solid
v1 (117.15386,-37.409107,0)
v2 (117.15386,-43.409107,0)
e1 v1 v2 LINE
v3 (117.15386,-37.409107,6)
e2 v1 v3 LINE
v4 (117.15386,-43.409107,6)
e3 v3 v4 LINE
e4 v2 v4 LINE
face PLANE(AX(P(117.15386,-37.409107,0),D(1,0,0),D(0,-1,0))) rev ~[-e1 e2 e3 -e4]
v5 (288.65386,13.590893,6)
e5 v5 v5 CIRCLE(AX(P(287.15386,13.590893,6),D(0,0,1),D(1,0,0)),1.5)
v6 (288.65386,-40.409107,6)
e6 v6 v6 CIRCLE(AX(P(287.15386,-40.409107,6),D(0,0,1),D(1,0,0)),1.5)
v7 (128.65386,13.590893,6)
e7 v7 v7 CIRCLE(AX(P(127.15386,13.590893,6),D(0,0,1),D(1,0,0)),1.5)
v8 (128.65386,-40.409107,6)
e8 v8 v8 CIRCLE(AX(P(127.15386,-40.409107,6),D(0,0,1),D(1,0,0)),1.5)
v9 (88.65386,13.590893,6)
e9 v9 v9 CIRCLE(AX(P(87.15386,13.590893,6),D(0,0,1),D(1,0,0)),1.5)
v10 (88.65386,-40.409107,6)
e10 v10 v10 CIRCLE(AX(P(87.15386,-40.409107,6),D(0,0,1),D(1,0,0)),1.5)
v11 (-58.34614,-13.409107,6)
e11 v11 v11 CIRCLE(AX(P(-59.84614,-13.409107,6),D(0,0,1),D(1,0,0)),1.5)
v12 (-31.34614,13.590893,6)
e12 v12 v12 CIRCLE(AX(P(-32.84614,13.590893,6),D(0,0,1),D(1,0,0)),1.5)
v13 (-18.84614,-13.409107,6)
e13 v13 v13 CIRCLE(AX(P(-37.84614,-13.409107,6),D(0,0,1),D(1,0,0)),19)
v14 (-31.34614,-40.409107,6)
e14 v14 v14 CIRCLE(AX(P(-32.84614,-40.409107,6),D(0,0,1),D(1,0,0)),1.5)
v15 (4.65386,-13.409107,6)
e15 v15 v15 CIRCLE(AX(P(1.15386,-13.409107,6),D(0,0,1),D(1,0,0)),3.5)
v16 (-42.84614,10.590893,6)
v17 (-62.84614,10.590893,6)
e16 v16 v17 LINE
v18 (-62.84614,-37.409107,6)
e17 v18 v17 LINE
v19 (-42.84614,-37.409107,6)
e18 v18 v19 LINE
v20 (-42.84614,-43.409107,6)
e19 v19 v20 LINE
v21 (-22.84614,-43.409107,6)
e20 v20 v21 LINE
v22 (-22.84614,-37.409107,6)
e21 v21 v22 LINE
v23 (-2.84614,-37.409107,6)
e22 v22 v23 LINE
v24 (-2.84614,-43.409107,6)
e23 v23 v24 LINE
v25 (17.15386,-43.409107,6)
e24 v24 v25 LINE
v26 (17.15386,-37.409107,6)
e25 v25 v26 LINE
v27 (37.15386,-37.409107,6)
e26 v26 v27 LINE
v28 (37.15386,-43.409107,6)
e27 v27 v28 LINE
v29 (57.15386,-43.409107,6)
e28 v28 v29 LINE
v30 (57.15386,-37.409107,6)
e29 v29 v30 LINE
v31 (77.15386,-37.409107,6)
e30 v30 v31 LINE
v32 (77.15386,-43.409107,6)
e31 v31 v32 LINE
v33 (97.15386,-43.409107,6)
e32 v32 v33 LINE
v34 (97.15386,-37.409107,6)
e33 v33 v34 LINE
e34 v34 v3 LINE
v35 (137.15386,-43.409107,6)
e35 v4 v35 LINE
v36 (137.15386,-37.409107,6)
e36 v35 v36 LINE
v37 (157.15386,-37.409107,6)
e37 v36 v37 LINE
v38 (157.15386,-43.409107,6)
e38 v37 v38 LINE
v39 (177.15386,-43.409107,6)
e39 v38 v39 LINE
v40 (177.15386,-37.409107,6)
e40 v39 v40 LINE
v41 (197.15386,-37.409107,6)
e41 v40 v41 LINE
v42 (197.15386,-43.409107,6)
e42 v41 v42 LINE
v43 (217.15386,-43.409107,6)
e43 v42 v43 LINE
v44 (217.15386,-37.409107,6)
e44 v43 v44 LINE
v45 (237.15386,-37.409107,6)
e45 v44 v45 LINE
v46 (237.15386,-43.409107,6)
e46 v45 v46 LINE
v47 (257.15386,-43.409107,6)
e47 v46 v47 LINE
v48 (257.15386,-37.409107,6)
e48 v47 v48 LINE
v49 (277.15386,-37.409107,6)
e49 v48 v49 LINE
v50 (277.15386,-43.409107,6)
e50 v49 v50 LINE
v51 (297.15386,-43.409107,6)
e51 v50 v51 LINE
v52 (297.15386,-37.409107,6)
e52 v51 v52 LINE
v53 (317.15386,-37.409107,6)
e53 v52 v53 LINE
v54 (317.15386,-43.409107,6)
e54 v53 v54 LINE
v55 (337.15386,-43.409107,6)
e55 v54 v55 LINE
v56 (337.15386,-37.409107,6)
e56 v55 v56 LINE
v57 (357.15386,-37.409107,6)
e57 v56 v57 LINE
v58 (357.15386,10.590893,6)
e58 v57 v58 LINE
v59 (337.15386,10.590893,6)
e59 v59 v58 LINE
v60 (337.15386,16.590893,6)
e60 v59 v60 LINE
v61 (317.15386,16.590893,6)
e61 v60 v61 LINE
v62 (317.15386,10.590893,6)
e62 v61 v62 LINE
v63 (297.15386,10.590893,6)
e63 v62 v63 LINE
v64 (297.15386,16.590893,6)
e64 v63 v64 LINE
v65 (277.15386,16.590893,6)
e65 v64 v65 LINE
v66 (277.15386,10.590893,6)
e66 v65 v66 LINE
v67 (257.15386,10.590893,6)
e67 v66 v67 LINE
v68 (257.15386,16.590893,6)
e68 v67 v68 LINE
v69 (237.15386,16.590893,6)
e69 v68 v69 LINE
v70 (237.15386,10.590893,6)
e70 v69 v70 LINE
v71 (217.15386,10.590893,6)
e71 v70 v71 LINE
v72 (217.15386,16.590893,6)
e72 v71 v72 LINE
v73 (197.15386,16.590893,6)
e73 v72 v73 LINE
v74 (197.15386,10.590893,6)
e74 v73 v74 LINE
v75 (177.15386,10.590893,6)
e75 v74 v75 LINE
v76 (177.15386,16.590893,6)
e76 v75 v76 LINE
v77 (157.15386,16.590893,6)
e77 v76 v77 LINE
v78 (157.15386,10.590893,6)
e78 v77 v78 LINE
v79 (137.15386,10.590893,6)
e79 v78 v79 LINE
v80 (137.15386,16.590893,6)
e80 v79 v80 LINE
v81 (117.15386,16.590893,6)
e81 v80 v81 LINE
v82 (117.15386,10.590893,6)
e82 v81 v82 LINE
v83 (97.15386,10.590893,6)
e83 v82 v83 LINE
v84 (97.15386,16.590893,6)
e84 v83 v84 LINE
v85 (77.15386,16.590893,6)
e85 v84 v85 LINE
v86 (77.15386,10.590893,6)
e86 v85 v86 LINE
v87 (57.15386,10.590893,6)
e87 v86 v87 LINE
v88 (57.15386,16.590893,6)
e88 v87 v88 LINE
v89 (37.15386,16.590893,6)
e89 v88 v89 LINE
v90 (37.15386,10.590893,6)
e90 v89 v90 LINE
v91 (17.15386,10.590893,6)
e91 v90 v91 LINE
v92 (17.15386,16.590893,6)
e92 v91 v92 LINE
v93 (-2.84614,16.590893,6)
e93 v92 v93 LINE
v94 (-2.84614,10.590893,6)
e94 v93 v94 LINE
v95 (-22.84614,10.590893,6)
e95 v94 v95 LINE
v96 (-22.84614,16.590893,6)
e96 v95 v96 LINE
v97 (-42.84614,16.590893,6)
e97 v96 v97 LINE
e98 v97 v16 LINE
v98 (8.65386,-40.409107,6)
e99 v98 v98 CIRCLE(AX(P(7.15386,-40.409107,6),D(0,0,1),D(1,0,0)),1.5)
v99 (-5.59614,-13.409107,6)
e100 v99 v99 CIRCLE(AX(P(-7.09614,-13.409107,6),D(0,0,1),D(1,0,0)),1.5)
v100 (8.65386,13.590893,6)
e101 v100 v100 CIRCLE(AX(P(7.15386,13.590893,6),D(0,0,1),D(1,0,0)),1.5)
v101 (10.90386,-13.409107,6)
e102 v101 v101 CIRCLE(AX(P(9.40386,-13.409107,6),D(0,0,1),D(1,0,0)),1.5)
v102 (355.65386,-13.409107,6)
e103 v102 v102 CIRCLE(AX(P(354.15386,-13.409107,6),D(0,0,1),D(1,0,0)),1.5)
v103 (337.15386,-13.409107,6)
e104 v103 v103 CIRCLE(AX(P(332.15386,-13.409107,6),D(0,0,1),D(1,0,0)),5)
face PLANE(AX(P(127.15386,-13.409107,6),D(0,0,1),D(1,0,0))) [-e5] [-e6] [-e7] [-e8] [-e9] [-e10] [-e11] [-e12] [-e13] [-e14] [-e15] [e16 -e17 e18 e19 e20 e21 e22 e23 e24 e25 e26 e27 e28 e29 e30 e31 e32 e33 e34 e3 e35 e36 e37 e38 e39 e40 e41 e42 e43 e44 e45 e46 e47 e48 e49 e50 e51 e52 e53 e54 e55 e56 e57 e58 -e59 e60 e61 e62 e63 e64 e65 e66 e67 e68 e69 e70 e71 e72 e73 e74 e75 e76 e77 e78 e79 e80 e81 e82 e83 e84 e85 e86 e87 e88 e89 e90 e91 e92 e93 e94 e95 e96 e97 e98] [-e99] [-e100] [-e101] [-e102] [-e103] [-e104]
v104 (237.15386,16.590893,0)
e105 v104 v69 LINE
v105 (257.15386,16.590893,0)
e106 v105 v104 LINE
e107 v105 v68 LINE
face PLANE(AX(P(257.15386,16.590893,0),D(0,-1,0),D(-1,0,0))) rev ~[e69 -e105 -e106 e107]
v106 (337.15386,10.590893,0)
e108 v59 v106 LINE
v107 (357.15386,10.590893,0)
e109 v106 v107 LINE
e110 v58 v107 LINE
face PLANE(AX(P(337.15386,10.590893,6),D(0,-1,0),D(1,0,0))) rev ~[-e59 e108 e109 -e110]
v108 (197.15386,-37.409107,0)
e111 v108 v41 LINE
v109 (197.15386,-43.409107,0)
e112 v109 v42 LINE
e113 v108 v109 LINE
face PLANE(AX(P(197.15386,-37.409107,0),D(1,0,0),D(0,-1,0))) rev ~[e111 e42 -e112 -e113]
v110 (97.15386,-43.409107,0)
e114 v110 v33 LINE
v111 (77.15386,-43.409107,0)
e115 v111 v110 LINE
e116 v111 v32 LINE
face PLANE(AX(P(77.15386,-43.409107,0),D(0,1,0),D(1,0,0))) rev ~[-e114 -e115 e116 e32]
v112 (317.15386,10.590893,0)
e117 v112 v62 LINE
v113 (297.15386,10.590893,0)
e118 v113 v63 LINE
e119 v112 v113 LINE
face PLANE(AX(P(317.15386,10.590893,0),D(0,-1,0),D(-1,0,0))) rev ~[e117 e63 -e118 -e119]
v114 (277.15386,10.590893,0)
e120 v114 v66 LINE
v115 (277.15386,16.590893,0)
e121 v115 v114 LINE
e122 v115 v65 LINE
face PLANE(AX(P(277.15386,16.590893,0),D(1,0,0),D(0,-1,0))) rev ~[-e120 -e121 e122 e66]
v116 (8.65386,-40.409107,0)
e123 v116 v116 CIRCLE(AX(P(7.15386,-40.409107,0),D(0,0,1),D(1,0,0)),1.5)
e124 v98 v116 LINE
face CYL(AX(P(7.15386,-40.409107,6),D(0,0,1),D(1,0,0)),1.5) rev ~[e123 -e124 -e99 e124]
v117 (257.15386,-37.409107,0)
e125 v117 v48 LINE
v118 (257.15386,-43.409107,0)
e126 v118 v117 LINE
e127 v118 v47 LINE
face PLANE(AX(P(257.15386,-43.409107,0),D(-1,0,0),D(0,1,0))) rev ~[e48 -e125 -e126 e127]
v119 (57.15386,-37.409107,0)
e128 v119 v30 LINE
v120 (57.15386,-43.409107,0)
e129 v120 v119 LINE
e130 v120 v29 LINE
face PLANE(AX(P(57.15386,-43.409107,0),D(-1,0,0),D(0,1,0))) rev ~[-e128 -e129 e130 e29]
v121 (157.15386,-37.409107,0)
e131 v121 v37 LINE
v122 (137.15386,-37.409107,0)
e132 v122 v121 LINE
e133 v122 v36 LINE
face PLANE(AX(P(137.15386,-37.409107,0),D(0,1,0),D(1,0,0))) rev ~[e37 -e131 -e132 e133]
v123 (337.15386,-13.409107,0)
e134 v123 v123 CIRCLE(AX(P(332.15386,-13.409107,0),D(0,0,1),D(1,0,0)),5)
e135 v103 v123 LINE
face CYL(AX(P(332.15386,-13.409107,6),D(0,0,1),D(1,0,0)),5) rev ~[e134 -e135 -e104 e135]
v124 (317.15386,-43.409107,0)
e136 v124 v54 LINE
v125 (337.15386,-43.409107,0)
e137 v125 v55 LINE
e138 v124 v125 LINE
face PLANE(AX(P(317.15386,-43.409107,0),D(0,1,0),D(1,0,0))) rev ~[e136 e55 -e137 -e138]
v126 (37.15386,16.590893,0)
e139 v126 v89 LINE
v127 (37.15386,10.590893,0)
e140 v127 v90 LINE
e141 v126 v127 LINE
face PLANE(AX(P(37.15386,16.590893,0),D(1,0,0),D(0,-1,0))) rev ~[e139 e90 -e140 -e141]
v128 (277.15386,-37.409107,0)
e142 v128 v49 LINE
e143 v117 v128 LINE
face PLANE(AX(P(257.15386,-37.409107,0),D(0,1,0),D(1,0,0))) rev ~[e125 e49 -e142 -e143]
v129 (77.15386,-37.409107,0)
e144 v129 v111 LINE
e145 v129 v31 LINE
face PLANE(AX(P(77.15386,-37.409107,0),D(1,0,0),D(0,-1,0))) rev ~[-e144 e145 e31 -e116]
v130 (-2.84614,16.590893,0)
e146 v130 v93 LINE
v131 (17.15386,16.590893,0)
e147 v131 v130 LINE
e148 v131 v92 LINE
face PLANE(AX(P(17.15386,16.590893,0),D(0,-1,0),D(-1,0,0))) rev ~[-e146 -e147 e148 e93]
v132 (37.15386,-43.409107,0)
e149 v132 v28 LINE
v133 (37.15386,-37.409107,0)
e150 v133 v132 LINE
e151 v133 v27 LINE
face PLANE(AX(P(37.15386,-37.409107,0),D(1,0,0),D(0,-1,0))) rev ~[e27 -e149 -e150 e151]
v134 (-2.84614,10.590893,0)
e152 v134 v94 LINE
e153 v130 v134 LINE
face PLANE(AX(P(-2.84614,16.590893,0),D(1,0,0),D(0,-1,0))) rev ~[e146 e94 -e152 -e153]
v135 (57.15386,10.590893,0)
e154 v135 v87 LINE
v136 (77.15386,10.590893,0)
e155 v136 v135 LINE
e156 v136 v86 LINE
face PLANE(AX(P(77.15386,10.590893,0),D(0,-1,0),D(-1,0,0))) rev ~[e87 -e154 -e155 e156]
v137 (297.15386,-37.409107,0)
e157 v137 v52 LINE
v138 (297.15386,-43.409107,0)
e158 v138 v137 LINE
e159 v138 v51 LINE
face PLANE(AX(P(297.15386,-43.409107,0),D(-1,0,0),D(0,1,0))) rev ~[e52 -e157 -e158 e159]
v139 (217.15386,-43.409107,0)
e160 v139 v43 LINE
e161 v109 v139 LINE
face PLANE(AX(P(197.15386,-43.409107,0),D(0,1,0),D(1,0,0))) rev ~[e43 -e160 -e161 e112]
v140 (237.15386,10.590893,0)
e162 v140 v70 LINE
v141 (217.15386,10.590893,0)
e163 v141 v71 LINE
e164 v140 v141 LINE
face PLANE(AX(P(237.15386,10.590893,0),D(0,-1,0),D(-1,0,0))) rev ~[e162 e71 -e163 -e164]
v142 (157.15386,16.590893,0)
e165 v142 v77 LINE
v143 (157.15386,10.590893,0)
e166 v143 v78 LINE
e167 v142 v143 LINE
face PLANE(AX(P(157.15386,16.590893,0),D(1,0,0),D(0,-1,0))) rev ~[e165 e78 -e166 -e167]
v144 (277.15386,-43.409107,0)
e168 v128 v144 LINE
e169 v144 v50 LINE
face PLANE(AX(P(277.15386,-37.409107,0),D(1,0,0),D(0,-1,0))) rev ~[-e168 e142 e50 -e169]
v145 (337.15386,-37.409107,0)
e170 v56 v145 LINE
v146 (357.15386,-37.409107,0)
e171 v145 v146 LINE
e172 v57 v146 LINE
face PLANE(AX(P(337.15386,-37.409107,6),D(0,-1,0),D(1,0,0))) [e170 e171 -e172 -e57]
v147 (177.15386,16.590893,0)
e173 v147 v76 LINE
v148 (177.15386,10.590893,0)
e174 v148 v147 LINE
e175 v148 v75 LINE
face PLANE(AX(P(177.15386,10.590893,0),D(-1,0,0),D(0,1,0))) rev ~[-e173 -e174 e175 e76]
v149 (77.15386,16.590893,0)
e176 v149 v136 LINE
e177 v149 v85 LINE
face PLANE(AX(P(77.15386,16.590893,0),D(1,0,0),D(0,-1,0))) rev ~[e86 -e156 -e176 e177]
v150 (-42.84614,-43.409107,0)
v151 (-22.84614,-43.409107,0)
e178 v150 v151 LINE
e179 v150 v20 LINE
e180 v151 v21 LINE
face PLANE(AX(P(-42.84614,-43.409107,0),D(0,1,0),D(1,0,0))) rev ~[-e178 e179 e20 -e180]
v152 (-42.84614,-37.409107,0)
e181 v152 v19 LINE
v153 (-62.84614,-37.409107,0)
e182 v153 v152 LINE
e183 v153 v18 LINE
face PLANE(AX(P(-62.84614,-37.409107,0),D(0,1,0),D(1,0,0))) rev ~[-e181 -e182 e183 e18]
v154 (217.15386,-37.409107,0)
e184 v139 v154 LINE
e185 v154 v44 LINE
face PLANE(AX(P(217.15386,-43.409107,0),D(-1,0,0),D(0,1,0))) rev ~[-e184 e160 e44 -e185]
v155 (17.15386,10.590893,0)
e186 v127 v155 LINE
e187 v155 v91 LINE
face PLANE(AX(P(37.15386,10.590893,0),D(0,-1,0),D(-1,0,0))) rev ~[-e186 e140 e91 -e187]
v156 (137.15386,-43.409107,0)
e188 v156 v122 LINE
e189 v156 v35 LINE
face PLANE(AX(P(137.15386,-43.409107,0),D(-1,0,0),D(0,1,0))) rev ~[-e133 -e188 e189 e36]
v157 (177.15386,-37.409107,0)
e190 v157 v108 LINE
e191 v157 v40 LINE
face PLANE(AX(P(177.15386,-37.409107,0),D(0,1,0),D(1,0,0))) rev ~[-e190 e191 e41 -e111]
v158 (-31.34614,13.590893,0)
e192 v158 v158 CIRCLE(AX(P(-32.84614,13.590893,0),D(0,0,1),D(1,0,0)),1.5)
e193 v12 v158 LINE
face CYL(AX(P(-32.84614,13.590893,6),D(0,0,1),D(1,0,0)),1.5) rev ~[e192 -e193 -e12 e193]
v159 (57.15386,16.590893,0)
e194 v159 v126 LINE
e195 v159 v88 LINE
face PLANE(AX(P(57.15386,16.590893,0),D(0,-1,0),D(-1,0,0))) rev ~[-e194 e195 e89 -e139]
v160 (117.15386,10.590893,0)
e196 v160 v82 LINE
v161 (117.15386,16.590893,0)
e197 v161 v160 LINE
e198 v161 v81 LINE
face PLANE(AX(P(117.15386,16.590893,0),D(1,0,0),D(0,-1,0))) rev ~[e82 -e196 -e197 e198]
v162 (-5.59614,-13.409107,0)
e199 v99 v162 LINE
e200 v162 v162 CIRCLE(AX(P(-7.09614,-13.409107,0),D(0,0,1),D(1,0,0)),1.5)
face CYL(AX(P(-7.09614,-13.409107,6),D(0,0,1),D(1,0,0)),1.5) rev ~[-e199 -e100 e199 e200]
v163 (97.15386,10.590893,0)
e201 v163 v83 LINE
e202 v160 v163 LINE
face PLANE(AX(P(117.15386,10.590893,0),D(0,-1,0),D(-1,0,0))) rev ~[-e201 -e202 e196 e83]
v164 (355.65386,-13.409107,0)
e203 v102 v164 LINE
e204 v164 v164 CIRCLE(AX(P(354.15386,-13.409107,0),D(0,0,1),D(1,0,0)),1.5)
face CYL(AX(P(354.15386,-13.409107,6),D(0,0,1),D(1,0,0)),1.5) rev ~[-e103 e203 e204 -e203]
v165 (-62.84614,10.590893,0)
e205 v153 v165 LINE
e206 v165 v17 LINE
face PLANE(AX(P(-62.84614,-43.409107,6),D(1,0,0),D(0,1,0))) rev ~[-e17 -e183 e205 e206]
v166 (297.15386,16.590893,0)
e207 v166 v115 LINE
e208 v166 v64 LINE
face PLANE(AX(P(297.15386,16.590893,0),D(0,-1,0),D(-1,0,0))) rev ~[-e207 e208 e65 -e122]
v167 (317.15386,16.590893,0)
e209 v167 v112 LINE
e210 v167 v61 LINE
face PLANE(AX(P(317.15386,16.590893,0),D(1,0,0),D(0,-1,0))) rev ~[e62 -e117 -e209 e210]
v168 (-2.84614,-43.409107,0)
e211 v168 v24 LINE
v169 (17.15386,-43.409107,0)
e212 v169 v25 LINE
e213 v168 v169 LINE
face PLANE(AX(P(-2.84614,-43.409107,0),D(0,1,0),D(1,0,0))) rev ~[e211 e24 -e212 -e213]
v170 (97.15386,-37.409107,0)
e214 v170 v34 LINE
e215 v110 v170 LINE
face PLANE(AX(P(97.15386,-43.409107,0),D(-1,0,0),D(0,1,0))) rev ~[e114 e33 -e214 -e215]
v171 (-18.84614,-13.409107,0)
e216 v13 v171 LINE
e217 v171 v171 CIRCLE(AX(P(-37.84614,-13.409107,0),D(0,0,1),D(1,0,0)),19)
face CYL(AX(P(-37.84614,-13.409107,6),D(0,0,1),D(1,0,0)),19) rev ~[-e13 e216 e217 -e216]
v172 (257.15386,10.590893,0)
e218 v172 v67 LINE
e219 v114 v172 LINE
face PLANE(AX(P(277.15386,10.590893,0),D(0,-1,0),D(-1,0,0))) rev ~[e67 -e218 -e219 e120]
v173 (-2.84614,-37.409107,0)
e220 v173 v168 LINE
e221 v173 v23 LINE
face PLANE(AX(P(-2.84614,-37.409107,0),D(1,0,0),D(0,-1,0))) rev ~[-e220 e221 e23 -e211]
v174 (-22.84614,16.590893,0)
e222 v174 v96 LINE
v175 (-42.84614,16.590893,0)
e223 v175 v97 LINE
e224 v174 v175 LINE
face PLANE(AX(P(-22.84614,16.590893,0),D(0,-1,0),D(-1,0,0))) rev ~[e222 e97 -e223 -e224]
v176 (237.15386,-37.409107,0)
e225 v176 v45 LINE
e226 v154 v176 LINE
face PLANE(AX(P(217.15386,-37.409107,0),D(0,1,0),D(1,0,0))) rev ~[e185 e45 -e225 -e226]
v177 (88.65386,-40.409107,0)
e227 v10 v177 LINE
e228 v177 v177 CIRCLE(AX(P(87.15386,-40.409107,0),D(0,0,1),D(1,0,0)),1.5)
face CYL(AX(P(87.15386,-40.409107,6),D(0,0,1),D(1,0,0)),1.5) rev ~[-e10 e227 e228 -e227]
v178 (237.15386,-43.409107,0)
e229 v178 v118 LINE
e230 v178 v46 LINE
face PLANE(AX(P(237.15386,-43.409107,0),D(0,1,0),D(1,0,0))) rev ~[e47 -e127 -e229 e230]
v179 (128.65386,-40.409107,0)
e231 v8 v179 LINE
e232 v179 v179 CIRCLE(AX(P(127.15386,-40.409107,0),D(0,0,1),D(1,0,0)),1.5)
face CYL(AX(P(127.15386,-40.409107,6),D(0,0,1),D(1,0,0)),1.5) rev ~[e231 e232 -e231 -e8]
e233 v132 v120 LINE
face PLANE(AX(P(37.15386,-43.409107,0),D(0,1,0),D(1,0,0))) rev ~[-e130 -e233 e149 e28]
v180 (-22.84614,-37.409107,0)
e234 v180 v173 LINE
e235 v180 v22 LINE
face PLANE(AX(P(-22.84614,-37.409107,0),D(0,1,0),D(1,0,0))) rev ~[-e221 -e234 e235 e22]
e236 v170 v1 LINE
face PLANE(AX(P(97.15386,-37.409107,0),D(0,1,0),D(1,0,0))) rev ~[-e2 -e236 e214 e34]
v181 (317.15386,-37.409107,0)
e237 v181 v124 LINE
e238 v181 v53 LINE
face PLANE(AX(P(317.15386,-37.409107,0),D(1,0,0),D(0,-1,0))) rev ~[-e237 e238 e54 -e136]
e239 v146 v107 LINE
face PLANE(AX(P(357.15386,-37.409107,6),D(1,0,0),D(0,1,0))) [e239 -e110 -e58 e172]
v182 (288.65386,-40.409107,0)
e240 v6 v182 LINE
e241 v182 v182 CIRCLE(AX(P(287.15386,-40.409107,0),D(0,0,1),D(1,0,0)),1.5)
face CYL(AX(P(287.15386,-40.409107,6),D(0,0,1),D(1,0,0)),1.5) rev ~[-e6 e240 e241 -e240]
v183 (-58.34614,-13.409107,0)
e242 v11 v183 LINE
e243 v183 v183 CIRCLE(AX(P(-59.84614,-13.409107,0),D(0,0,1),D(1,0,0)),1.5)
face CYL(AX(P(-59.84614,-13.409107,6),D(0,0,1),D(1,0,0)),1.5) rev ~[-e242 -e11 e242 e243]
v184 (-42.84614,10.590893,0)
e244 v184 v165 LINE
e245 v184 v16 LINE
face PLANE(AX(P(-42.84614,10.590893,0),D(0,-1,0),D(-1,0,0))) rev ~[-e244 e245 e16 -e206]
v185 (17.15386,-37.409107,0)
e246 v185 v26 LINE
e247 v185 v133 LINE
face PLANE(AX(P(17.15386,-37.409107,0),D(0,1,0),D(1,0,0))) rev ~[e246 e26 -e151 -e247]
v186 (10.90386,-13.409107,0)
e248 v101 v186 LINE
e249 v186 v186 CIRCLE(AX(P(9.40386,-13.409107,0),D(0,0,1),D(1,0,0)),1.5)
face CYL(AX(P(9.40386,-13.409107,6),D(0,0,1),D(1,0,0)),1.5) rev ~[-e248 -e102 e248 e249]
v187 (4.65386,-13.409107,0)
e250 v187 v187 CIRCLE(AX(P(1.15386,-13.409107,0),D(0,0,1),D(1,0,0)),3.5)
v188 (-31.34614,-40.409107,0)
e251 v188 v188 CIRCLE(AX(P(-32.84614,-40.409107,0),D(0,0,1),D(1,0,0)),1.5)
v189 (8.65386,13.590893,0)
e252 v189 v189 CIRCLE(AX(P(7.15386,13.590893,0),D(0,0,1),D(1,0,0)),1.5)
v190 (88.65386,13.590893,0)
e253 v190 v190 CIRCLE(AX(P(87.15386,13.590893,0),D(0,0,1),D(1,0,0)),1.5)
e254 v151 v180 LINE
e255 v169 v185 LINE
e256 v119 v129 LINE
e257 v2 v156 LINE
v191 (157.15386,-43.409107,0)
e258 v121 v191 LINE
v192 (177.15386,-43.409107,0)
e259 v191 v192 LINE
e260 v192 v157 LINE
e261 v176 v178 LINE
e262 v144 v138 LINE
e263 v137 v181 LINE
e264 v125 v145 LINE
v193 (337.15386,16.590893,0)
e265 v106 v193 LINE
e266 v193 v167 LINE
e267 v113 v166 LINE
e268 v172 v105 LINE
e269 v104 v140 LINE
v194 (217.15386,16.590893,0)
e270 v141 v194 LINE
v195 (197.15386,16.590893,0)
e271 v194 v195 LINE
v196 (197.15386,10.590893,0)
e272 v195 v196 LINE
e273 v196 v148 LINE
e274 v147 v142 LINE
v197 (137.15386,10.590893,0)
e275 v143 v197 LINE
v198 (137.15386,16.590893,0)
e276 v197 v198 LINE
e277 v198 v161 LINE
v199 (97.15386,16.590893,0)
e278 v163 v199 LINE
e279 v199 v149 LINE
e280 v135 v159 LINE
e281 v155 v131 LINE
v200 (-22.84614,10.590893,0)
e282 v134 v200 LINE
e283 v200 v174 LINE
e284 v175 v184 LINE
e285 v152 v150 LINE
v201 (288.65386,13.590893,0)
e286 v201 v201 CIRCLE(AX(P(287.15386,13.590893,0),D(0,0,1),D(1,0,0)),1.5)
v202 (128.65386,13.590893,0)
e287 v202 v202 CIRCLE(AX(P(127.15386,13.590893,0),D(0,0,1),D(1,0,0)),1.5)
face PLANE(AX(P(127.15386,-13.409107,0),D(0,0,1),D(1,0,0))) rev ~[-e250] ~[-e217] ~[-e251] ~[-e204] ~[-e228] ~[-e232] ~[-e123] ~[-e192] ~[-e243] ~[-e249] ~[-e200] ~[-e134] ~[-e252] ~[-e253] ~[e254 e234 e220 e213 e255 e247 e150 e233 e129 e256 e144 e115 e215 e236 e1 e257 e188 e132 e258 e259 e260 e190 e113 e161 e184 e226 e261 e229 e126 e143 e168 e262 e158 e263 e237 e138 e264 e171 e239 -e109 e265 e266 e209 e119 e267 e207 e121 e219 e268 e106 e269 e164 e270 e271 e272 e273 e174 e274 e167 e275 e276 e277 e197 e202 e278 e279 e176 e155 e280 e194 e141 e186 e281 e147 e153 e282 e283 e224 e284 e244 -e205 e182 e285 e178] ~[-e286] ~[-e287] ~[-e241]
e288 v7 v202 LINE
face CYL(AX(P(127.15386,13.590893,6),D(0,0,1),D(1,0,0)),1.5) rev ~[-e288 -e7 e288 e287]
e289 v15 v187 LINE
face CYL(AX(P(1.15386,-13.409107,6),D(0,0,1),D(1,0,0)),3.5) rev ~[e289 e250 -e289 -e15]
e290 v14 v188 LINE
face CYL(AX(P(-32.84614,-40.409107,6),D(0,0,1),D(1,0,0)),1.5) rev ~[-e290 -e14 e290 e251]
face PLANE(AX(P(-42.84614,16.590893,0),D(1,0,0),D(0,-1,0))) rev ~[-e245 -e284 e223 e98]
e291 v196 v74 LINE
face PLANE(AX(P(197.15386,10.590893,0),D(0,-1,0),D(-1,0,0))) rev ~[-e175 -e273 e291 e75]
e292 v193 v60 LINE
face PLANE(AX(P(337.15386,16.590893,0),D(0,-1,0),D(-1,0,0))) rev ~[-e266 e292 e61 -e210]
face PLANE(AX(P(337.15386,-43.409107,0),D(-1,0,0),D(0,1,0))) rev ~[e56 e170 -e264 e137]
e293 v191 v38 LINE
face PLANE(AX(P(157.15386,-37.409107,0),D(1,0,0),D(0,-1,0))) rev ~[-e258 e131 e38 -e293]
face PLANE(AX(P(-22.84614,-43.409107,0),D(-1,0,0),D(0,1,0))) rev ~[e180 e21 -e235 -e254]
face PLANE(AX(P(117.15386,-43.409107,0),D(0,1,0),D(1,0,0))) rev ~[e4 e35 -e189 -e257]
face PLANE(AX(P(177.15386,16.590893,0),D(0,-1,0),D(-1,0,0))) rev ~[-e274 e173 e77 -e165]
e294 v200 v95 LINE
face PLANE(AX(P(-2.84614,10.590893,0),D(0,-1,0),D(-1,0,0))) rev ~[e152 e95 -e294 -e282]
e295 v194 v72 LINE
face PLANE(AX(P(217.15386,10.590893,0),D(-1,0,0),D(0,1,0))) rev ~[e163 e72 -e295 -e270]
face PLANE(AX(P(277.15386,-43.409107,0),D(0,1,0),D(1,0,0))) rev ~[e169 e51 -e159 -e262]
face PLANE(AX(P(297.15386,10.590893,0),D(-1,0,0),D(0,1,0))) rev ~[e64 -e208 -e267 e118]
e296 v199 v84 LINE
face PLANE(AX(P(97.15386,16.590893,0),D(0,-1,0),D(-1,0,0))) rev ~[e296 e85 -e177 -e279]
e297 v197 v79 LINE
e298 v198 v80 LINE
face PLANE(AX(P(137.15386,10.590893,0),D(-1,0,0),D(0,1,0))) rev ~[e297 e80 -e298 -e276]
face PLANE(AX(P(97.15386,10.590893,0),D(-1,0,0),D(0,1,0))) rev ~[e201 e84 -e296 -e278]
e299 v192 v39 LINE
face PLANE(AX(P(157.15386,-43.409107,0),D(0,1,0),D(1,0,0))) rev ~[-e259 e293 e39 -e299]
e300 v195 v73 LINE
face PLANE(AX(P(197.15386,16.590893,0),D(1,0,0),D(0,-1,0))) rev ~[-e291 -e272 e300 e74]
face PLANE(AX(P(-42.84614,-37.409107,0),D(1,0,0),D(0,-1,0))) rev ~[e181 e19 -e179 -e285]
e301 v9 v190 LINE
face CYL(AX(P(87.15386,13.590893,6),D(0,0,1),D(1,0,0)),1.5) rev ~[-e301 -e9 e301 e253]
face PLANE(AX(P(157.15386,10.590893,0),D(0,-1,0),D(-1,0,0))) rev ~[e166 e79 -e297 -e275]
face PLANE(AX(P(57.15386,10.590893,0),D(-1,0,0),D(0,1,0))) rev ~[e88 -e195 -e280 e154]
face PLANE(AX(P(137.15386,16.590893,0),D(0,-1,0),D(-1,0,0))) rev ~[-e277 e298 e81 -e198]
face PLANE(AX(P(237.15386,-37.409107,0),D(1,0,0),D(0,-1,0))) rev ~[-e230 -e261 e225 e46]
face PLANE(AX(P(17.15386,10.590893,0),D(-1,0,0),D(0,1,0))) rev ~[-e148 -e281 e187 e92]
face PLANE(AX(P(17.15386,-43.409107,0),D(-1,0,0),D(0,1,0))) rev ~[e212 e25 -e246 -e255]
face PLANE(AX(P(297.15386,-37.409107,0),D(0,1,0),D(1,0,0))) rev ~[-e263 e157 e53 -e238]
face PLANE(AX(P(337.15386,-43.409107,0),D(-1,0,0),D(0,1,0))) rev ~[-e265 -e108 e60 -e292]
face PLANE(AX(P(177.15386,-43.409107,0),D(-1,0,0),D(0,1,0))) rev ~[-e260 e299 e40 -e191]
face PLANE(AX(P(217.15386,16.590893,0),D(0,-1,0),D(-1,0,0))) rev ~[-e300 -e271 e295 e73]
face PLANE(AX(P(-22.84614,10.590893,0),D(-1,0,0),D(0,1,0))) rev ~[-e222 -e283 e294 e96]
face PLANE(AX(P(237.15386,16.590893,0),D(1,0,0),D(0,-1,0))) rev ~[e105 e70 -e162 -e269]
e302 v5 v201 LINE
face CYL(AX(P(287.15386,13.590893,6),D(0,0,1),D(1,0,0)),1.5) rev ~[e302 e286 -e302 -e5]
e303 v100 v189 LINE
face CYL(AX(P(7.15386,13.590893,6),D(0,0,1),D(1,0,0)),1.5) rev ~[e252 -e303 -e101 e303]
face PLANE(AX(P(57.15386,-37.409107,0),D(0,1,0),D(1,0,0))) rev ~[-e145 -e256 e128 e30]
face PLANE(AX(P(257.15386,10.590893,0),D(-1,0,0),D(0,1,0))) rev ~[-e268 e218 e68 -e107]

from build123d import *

# Parameters (mm, degrees)
BOSS_EXTRU_1_DEPTH      = 6
ESQUISSE3_R             = 19
ENL_V_MAT_EXTRU_1_DEPTH = 10
ESQUISSE4_W             = 20
ESQUISSE4_H             = 60
ENL_V_MAT_EXTRU_2_DEPTH = 10
ESQUISSE5_W             = 20
ESQUISSE5_H             = 48
BOSS_EXTRU_2_DEPTH      = 6
ESQUISSE6_R             = 1.5
ENL_V_MAT_EXTRU_3_DEPTH = 10
ESQUISSE7_R             = 1.5
ENL_V_MAT_EXTRU_4_DEPTH = 10
ESQUISSE8_R             = 1.5
ENL_V_MAT_EXTRU_5_DEPTH = 10
ESQUISSE9_R             = 3.5
ESQUISSE9_R_2           = 1.5
ENL_V_MAT_EXTRU_6_DEPTH = 10
ESQUISSE10_R            = 1.5
ENL_V_MAT_EXTRU_7_DEPTH = 10
ESQUISSE11_R            = 1.5
ENL_V_MAT_EXTRU_8_DEPTH = 10
ESQUISSE13_R            = 5
ENL_V_MAT_EXTRU_9_DEPTH = 10


with BuildPart() as part:
    # Esquisse2 → Boss.-Extru.1 (new body)
    with BuildSketch(Plane.XY):
        Polygon((-82.846139514, -43.409107348), (-62.846139514, -43.409107348), (-62.846139514, -37.409107348), (-42.846139514, -37.409107348), (-42.846139514, -43.409107348), (-22.846139514, -43.409107348), (-22.846139514, -37.409107348), (-2.846139514, -37.409107348), (-2.846139514, -43.409107348), (17.153860486, -43.409107348), (17.153860486, -37.409107348), (37.153860486, -37.409107348), (37.153860486, -43.409107348), (57.153860486, -43.409107348), (57.153860486, -37.409107348), (77.153860486, -37.409107348), (77.153860486, -43.409107348), (97.153860486, -43.409107348), (97.153860486, -37.409107348), (117.153860486, -37.409107348), (117.153860486, -43.409107348), (137.153860486, -43.409107348), (137.153860486, -37.409107348), (157.153860486, -37.409107348), (157.153860486, -43.409107348), (177.153860486, -43.409107348), (177.153860486, -37.409107348), (197.153860486, -37.409107348), (197.153860486, -43.409107348), (217.153860486, -43.409107348), (217.153860486, -37.409107348), (237.153860486, -37.409107348), (237.153860486, -43.409107348), (257.153860486, -43.409107348), (257.153860486, -37.409107348), (277.153860486, -37.409107348), (277.153860486, -43.409107348), (297.153860486, -43.409107348), (297.153860486, -37.409107348), (317.153860486, -37.409107348), (317.153860486, -43.409107348), (337.153860486, -43.409107348), (337.153860486, 16.590892652), (317.153860486, 16.590892652), (317.153860486, 10.590892652), (297.153860486, 10.590892652), (297.153860486, 16.590892652), (277.153860486, 16.590892652), (277.153860486, 10.590892652), (257.153860486, 10.590892652), (257.153860486, 16.590892652), (237.153860486, 16.590892652), (237.153860486, 10.590892652), (217.153860486, 10.590892652), (217.153860486, 16.590892652), (197.153860486, 16.590892652), (197.153860486, 10.590892652), (177.153860486, 10.590892652), (177.153860486, 16.590892652), (157.153860486, 16.590892652), (157.153860486, 10.590892652), (137.153860486, 10.590892652), (137.153860486, 16.590892652), (117.153860486, 16.590892652), (117.153860486, 10.590892652), (97.153860486, 10.590892652), (97.153860486, 16.590892652), (77.153860486, 16.590892652), (77.153860486, 10.590892652), (57.153860486, 10.590892652), (57.153860486, 16.590892652), (37.153860486, 16.590892652), (37.153860486, 10.590892652), (17.153860486, 10.590892652), (17.153860486, 16.590892652), (-2.846139514, 16.590892652), (-2.846139514, 10.590892652), (-22.846139514, 10.590892652), (-22.846139514, 16.590892652), (-42.846139514, 16.590892652), (-42.846139514, 10.590892652), (-62.846139514, 10.590892652), (-62.846139514, 16.590892652), (-82.846139514, 16.590892652), align=None)
    extrude(amount=BOSS_EXTRU_1_DEPTH)

    # Esquisse3 → Enlèv. mat.-Extru.1 (cut)
    with BuildSketch(Plane.XY.offset(6)):
        with Locations((-37.846139514, -13.409107348)):
            Circle(ESQUISSE3_R)
    extrude(amount=-ENL_V_MAT_EXTRU_1_DEPTH, mode=Mode.SUBTRACT)

    # Esquisse4 → Enlèv. mat.-Extru.2 (cut)
    with BuildSketch(Plane.XY.offset(6)):
        with Locations((-72.846139514, -13.409107348)):
            Rectangle(ESQUISSE4_W, ESQUISSE4_H)
    extrude(amount=-ENL_V_MAT_EXTRU_2_DEPTH, mode=Mode.SUBTRACT)

    # Esquisse5 → Boss.-Extru.2 (add)
    with BuildSketch(Plane.XY.offset(6)):
        with Locations((347.153860486, -13.409107348)):
            Rectangle(ESQUISSE5_W, ESQUISSE5_H)
    extrude(amount=-BOSS_EXTRU_2_DEPTH)

    # Esquisse6 → Enlèv. mat.-Extru.3 (cut)
    with BuildSketch(Plane.XY.offset(6)):
        with Locations((127.153860486, -40.409107348)):
            Circle(ESQUISSE6_R)
        with Locations((287.153860486, -40.409107348)):
            Circle(ESQUISSE6_R)
        with Locations((7.153860486, -40.409107348)):
            Circle(ESQUISSE6_R)
        with Locations((7.153860486, 13.590892652)):
            Circle(ESQUISSE6_R)
        with Locations((127.153860486, 13.590892652)):
            Circle(ESQUISSE6_R)
        with Locations((287.153860486, 13.590892652)):
            Circle(ESQUISSE6_R)
    extrude(amount=-ENL_V_MAT_EXTRU_3_DEPTH, mode=Mode.SUBTRACT)

    # Esquisse7 → Enlèv. mat.-Extru.4 (cut)
    with BuildSketch(Plane.XY.offset(6)):
        with Locations((-59.846139514, -13.409107348)):
            Circle(ESQUISSE7_R)
    extrude(amount=-ENL_V_MAT_EXTRU_4_DEPTH, mode=Mode.SUBTRACT)

    # Esquisse8 → Enlèv. mat.-Extru.5 (cut)
    with BuildSketch(Plane.XY.offset(6)):
        with Locations((354.153860486, -13.409107348)):
            Circle(ESQUISSE8_R)
    extrude(amount=-ENL_V_MAT_EXTRU_5_DEPTH, mode=Mode.SUBTRACT)

    # Esquisse9 → Enlèv. mat.-Extru.6 (cut)
    with BuildSketch(Plane.XY.offset(6)):
        with Locations((1.153860486, -13.409107348)):
            Circle(ESQUISSE9_R)
        with Locations((-7.096139514, -13.409107348)):
            Circle(ESQUISSE9_R_2)
        with Locations((9.403860486, -13.409107348)):
            Circle(ESQUISSE9_R_2)
    extrude(amount=-ENL_V_MAT_EXTRU_6_DEPTH, mode=Mode.SUBTRACT)

    # Esquisse10 → Enlèv. mat.-Extru.7 (cut)
    with BuildSketch(Plane.XY.offset(6)):
        with Locations((-32.846139514, 13.590892652)):
            Circle(ESQUISSE10_R)
        with Locations((-32.846139514, -40.409107348)):
            Circle(ESQUISSE10_R)
    extrude(amount=-ENL_V_MAT_EXTRU_7_DEPTH, mode=Mode.SUBTRACT)

    # Esquisse11 → Enlèv. mat.-Extru.8 (cut)
    with BuildSketch(Plane.XY.offset(6)):
        with Locations((87.153860486, 13.590892652)):
            Circle(ESQUISSE11_R)
        with Locations((87.153860486, -40.409107348)):
            Circle(ESQUISSE11_R)
    extrude(amount=-ENL_V_MAT_EXTRU_8_DEPTH, mode=Mode.SUBTRACT)

    # Esquisse13 → Enlèv. mat.-Extru.9 (cut)
    with BuildSketch(Plane.XY.offset(6)):
        with Locations((332.153860486, -13.409107348)):
            Circle(ESQUISSE13_R)
    extrude(amount=-ENL_V_MAT_EXTRU_9_DEPTH, mode=Mode.SUBTRACT)


solid = part.part
